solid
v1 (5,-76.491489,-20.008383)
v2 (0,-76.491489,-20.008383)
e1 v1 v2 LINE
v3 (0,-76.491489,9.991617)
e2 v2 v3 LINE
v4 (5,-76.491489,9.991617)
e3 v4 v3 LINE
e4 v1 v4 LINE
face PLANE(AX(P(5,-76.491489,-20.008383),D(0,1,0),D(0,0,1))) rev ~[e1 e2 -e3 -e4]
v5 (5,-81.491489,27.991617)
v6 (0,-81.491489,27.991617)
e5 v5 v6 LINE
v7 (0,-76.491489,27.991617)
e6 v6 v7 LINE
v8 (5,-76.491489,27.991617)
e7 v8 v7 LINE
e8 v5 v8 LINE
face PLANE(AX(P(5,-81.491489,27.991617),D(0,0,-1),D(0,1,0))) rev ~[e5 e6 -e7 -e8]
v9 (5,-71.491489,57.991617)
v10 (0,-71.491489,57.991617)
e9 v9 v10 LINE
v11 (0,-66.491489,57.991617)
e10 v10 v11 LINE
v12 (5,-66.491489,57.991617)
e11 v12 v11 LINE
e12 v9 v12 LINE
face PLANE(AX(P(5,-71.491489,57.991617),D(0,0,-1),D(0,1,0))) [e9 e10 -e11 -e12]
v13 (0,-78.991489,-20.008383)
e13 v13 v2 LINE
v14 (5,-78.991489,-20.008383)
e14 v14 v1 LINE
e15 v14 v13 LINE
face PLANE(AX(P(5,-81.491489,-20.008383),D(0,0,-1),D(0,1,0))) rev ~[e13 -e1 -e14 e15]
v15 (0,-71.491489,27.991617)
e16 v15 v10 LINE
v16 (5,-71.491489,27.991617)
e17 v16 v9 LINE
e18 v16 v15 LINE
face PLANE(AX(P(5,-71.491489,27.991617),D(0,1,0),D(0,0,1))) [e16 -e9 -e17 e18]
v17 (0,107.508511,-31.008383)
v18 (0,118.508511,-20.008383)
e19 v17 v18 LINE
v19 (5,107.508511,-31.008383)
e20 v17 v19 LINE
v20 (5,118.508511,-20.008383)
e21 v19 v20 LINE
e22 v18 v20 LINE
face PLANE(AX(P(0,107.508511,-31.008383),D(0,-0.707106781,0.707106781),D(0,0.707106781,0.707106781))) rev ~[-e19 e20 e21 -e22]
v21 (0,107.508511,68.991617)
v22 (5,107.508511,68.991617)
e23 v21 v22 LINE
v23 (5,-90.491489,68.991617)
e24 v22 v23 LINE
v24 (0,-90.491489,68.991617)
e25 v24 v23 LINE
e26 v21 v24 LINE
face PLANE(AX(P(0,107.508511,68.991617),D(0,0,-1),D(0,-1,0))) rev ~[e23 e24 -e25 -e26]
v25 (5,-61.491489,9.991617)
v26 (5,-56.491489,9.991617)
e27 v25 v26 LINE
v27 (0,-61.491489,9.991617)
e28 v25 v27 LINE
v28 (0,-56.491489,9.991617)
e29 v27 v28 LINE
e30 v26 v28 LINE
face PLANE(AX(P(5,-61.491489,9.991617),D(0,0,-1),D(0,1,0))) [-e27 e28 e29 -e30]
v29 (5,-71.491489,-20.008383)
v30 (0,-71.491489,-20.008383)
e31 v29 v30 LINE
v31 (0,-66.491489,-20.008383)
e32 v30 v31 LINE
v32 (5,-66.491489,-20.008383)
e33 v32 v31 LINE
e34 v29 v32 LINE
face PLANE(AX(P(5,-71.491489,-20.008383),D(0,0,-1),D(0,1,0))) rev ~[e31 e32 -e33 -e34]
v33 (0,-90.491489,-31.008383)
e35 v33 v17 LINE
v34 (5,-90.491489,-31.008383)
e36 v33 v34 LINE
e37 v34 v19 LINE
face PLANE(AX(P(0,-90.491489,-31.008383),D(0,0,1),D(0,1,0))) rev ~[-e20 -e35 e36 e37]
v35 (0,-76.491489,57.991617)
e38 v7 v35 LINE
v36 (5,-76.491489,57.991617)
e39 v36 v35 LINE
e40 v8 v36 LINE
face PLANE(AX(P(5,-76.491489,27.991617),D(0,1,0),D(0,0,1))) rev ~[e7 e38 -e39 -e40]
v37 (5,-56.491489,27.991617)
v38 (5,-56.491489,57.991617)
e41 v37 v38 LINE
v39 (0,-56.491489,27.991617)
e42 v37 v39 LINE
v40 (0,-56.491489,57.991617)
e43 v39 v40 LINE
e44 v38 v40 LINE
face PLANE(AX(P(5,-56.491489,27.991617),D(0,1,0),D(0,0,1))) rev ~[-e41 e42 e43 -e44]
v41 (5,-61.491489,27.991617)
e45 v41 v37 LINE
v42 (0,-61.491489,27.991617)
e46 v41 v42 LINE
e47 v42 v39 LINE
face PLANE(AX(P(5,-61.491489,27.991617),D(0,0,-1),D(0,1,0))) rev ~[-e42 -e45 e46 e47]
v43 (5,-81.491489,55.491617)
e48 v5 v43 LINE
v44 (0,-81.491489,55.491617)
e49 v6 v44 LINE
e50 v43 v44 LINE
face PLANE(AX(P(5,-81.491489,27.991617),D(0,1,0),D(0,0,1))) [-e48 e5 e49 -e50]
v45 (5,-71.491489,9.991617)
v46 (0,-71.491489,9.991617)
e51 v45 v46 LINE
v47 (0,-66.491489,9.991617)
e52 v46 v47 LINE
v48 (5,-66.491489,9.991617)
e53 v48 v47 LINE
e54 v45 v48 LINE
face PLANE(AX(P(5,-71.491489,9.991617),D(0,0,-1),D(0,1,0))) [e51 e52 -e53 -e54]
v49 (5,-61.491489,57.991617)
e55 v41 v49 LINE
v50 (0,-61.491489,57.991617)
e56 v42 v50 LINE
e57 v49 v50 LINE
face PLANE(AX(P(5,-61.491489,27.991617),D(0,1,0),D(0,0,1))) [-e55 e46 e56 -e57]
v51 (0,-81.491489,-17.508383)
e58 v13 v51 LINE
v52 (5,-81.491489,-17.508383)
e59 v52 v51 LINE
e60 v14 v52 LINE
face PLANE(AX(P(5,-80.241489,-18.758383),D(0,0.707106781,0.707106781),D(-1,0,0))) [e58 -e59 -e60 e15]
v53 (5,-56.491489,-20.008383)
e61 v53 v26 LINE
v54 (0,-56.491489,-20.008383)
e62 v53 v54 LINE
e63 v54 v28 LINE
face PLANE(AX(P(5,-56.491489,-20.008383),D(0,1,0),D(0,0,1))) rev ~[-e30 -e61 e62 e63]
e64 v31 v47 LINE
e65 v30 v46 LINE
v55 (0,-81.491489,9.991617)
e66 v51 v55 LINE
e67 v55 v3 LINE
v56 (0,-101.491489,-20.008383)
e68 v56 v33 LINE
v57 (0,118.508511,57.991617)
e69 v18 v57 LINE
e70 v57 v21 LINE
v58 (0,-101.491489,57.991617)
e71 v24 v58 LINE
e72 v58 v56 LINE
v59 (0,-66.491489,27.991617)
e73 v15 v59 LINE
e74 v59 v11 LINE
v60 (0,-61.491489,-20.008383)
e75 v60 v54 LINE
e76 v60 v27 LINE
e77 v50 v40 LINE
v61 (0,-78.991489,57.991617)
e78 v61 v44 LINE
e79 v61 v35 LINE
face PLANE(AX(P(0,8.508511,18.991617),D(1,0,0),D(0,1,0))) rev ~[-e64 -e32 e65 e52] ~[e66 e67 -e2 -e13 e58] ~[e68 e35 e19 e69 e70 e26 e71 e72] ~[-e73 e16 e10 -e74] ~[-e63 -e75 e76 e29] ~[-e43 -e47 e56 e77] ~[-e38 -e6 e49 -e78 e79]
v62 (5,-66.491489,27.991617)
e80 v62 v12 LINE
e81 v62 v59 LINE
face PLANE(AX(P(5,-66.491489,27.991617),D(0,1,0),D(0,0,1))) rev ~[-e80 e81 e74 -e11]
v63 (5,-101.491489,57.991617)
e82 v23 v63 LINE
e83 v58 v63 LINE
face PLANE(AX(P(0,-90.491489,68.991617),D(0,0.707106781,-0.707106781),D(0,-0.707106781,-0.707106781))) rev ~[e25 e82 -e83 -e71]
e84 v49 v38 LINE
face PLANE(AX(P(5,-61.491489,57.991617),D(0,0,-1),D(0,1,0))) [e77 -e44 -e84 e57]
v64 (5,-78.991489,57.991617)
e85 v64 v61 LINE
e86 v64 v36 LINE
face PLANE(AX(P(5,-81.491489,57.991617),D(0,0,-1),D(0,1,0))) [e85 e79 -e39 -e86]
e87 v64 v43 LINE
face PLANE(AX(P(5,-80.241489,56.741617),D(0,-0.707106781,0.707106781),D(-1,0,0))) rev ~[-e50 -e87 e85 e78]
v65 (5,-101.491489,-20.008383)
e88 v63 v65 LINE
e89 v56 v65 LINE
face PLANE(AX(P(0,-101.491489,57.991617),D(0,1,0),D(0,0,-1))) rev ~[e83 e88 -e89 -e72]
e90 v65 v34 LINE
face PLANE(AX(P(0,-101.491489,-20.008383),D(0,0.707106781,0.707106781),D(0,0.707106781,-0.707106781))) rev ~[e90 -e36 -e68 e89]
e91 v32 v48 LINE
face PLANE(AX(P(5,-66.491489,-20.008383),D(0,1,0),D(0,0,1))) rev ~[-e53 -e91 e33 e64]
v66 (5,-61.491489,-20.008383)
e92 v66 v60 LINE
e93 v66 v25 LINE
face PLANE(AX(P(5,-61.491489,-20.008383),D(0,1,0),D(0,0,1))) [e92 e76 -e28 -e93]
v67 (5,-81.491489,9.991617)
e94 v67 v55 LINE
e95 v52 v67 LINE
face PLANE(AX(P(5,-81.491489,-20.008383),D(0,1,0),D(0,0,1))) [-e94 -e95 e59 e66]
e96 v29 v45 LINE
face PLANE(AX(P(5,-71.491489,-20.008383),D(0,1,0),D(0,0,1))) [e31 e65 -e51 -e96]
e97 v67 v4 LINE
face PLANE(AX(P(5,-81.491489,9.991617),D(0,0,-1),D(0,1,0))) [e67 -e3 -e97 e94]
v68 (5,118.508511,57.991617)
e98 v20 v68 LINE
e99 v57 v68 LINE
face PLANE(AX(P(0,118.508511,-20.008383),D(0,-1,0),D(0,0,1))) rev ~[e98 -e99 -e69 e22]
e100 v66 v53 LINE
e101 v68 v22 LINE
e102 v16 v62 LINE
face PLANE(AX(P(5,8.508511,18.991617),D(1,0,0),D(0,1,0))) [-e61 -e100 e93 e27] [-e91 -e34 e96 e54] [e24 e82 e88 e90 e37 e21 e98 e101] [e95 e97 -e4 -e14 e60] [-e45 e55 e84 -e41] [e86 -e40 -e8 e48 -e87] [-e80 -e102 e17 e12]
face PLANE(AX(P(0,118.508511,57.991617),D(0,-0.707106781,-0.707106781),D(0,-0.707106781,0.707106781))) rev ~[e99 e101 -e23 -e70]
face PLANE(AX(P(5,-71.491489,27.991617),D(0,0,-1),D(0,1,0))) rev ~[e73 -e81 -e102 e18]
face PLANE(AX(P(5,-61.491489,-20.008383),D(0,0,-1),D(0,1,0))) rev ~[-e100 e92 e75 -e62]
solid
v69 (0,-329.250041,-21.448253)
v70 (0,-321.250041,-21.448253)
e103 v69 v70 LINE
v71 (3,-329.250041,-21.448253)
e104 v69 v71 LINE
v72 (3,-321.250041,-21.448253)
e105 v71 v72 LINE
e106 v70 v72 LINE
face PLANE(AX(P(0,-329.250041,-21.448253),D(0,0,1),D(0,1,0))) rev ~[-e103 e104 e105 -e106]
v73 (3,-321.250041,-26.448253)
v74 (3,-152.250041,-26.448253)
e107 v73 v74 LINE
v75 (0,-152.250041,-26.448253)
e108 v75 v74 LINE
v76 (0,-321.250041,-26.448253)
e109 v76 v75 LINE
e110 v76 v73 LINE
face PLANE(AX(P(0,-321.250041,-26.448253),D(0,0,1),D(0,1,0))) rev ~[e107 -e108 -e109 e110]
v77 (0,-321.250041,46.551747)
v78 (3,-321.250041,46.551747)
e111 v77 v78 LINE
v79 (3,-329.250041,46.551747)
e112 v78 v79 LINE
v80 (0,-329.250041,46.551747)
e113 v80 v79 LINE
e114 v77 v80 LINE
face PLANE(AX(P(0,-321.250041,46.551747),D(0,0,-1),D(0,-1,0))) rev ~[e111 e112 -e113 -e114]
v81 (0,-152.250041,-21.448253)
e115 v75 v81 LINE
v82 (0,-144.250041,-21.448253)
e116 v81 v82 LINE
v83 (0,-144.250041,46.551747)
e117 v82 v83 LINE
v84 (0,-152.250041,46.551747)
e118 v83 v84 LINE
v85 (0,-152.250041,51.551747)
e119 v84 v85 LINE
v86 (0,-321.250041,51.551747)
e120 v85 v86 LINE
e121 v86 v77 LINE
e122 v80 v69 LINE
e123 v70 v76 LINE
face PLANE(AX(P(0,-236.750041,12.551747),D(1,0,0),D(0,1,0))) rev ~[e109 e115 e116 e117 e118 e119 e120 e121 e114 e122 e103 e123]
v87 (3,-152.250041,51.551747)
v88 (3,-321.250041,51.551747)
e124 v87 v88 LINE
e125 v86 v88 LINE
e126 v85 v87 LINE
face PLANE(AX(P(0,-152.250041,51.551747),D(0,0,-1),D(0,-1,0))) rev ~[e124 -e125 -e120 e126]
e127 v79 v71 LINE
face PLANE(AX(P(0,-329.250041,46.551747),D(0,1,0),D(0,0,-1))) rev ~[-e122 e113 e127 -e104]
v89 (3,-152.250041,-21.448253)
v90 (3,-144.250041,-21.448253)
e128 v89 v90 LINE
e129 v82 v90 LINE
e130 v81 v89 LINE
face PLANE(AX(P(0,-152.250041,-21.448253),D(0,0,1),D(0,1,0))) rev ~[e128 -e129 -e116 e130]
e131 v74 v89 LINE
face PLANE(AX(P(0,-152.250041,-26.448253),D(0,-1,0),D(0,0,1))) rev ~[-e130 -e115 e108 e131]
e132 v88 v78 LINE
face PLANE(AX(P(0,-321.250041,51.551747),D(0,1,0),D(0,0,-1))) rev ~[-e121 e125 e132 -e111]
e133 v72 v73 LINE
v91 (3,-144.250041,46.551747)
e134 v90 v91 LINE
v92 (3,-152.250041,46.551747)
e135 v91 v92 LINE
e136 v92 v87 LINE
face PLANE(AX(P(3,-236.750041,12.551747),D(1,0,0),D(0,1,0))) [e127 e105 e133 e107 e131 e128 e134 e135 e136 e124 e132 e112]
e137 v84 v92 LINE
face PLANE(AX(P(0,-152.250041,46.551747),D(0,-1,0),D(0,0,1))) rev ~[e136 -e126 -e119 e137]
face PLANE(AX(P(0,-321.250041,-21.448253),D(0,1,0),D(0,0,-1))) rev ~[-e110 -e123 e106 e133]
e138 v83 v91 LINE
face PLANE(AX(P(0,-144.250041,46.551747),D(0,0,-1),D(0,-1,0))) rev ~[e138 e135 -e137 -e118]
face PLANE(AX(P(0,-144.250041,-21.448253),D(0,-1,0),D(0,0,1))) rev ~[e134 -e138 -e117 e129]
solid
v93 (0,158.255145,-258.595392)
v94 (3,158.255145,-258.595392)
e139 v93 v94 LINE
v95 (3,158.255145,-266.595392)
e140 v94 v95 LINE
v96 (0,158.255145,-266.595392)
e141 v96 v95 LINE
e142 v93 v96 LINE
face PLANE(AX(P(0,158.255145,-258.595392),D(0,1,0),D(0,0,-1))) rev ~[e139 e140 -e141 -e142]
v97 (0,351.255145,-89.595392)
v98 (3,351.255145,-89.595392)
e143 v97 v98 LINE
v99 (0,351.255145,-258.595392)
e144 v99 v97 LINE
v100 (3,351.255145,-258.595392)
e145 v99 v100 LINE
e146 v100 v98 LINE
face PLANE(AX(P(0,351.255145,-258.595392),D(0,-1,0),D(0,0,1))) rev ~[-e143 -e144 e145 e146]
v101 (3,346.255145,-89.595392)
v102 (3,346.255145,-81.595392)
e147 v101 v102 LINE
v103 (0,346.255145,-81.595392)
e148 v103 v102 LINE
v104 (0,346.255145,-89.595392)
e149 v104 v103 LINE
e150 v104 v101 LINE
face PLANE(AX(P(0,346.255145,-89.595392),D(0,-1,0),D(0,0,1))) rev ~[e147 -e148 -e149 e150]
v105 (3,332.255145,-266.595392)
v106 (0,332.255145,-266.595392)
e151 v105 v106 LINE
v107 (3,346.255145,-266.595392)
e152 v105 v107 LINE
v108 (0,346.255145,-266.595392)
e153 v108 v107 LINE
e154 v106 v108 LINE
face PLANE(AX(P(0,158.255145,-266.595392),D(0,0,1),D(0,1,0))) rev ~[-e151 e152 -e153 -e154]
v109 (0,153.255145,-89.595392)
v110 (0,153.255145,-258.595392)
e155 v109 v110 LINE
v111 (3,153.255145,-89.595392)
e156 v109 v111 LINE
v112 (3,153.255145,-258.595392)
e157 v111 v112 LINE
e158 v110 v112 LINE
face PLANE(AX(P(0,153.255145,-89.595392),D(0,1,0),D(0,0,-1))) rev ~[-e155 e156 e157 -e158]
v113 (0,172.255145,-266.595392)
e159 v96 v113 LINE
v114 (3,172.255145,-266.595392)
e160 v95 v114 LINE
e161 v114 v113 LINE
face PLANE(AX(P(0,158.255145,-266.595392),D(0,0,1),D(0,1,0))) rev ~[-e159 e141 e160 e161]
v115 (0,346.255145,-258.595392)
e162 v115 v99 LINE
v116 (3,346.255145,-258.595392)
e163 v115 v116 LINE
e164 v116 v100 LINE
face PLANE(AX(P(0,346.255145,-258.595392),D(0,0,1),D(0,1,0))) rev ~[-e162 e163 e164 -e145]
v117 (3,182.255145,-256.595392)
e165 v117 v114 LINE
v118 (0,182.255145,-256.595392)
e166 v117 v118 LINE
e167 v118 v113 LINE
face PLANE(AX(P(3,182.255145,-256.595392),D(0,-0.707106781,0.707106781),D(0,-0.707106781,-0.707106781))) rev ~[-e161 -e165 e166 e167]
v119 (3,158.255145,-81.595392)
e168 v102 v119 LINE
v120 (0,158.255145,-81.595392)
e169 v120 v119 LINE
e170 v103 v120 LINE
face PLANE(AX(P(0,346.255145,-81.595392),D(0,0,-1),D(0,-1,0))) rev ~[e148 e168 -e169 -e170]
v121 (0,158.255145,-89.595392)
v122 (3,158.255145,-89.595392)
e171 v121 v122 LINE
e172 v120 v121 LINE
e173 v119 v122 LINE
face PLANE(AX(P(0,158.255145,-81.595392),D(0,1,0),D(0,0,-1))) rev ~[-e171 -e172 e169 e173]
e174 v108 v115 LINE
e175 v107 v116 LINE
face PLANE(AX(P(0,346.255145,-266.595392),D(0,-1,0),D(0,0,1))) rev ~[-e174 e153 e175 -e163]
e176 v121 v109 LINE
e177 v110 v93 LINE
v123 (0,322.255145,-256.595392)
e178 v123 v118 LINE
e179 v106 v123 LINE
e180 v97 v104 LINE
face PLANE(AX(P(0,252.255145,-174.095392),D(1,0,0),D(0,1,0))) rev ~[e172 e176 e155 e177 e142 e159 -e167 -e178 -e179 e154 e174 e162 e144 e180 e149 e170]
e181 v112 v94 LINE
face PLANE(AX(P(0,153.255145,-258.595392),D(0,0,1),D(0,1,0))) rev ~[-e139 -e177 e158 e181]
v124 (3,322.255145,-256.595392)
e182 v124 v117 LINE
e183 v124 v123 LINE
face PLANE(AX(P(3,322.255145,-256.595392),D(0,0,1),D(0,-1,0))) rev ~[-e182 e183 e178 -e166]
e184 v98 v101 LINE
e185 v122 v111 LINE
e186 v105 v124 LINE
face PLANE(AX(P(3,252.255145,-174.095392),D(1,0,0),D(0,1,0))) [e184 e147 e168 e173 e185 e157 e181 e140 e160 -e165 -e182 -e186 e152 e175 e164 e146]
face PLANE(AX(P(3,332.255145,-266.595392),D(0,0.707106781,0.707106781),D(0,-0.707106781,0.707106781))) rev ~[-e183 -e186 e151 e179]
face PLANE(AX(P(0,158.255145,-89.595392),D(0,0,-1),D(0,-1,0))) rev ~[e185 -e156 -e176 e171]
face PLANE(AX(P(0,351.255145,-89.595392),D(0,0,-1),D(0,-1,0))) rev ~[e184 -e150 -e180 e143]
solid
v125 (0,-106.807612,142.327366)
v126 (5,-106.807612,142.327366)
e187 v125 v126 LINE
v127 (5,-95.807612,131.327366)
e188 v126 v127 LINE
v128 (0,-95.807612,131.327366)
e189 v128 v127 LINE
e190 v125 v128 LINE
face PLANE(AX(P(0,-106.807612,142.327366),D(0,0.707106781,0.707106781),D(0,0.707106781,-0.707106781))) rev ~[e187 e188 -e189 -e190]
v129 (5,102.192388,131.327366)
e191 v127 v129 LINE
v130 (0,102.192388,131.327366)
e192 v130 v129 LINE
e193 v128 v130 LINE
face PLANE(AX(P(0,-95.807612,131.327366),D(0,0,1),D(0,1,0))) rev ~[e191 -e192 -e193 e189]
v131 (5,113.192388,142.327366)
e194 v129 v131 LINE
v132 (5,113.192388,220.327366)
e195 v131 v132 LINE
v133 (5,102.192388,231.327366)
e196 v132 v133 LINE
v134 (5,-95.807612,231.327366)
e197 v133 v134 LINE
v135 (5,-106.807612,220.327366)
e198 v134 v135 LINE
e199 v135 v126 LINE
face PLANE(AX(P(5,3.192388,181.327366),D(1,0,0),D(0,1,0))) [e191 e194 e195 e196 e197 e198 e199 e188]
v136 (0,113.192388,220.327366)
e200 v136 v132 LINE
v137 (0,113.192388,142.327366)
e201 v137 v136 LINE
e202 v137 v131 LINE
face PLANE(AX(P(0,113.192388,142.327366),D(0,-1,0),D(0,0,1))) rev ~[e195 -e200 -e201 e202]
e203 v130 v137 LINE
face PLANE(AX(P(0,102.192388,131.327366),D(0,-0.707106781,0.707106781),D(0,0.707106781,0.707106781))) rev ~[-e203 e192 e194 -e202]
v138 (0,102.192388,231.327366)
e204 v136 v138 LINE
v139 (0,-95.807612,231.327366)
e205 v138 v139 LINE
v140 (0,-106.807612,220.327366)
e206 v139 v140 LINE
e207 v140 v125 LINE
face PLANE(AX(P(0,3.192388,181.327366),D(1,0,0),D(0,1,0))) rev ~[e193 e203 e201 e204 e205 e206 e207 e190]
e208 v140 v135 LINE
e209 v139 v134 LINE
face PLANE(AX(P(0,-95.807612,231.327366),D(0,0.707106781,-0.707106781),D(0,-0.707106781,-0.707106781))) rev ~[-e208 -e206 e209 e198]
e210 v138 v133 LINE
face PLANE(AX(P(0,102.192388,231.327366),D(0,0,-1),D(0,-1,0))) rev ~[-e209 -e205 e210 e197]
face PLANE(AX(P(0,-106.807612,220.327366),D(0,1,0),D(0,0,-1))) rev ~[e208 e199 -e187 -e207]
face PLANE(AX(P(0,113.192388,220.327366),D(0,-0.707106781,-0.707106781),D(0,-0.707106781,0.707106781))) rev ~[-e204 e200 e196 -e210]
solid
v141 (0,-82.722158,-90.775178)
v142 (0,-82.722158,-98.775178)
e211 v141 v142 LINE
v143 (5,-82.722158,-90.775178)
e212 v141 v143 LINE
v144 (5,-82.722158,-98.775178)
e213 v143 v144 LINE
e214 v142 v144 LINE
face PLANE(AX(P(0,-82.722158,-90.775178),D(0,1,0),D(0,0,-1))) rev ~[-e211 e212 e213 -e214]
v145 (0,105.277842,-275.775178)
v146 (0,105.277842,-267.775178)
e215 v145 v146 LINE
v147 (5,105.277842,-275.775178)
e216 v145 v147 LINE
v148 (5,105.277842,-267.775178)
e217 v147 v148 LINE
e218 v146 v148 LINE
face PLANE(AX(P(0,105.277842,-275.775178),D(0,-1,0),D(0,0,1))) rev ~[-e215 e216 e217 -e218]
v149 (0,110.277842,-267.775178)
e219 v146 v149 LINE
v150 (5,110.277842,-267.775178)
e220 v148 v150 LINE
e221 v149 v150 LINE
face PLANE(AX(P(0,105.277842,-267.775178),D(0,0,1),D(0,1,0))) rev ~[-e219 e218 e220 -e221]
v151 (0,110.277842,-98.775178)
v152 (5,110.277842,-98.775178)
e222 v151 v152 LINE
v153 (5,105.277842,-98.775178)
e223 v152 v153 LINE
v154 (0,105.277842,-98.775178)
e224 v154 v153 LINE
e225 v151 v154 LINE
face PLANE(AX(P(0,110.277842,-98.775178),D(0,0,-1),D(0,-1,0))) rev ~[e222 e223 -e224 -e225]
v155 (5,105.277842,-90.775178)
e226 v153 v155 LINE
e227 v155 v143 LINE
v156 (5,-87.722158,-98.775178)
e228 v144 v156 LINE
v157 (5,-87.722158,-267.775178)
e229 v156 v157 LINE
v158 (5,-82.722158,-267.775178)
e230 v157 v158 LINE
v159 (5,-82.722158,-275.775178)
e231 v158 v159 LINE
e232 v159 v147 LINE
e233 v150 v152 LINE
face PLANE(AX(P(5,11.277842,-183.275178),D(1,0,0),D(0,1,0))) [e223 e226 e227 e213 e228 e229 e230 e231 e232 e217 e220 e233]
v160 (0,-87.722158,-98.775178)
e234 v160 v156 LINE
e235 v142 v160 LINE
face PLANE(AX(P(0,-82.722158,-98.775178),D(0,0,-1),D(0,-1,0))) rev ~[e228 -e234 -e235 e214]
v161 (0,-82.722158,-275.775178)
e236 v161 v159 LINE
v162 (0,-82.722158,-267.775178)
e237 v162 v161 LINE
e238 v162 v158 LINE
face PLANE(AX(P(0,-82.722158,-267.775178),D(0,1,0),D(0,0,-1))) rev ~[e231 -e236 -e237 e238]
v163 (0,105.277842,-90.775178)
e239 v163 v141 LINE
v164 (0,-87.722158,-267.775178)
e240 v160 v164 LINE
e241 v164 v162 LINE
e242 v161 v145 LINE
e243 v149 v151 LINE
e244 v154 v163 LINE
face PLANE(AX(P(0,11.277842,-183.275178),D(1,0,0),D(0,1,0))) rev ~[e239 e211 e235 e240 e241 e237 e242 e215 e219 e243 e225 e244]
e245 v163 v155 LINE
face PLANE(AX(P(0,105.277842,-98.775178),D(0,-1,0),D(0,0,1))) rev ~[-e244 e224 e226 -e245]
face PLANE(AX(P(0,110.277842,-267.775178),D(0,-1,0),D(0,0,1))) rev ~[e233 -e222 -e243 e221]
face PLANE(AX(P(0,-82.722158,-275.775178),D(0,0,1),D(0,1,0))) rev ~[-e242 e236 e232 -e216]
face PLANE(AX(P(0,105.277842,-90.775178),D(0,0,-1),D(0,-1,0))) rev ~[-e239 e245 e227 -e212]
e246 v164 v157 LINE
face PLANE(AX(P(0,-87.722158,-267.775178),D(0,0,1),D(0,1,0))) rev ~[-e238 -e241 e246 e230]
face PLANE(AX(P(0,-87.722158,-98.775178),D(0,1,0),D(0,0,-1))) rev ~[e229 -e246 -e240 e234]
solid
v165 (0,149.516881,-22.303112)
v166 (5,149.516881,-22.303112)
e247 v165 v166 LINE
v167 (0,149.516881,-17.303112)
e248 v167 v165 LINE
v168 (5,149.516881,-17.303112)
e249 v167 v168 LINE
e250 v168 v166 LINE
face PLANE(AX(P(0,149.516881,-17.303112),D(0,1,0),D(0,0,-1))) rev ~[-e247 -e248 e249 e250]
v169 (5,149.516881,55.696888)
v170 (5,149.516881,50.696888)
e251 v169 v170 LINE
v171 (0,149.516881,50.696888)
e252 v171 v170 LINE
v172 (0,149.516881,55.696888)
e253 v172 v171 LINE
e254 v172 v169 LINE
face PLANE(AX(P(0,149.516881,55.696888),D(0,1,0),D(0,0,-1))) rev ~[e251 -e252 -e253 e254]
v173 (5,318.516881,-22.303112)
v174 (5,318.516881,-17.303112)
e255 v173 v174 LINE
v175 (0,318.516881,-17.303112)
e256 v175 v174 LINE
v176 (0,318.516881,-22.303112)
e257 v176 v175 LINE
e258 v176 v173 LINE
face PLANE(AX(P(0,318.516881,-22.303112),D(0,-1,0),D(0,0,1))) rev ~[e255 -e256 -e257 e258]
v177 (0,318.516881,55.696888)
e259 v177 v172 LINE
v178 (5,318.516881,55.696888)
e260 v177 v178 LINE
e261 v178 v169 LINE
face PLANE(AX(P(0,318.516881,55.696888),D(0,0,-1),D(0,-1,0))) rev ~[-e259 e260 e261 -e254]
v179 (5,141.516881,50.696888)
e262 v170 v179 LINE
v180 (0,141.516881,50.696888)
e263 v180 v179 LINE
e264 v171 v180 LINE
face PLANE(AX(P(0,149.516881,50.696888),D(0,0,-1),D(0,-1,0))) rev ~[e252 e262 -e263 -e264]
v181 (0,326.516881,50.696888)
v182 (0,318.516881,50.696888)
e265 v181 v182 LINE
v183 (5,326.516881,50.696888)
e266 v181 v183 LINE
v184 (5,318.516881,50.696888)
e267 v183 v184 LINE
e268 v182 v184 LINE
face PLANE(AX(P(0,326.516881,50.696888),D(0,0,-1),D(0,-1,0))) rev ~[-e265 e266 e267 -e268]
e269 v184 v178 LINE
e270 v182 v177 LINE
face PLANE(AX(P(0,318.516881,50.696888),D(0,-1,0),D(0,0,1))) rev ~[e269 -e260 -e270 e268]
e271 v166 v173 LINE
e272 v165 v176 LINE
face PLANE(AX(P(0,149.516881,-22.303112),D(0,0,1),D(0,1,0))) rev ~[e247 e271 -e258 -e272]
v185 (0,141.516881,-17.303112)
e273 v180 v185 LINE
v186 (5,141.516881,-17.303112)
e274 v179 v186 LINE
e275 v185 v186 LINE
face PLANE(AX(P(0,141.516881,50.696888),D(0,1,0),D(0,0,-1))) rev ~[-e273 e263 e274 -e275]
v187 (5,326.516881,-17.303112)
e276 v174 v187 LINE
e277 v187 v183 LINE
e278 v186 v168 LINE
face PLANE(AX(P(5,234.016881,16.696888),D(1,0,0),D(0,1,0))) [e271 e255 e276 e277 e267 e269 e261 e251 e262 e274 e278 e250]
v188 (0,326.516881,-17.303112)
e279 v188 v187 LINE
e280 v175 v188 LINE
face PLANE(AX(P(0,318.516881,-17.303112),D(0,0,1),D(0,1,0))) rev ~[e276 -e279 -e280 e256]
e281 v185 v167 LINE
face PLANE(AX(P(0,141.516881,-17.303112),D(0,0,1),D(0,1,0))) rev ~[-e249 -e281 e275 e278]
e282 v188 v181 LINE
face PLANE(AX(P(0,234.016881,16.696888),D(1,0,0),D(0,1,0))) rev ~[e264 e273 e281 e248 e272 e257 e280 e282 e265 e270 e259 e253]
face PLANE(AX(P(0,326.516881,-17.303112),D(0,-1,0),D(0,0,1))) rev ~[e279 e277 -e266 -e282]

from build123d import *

# Parameters (mm, degrees)
F1_DEPTH  = 5
F3_DEPTH  = 3
F5_DEPTH  = 5
F7_DEPTH  = 5
F9_DEPTH  = 5
F11_DEPTH = 3
F13_DEPTH = 25
F14_W     = 5
F14_H     = 30
F15_DEPTH = 25
F16_SIZE  = 2.5


with BuildPart() as f1:
    # F0 (on Right) → F1 (new body)
    with BuildSketch(Plane.YZ):
        Polygon((118.508511, 57.991617), (107.508511, 68.991617), (-90.491489, 68.991617), (-101.491489, 57.991617), (-101.491489, -20.008383), (-90.491489, -31.008383), (107.508511, -31.008383), (118.508511, -20.008383), align=None)
    extrude(amount=F1_DEPTH)

    # F14 (on face) → F15 (cut)
    with BuildSketch(Plane.YZ.offset(5)):
        with Locations((-78.991489, 42.991617)):
            Rectangle(F14_W, F14_H)
        with Locations((-78.991489, -5.008383)):
            Rectangle(F14_W, F14_H)
        with Locations((-68.991489, 42.991617)):
            Rectangle(F14_W, F14_H)
        with Locations((-68.991489, -5.008383)):
            Rectangle(F14_W, F14_H)
        with Locations((-58.991489, 42.991617)):
            Rectangle(F14_W, F14_H)
        with Locations((-58.991489, -5.008383)):
            Rectangle(F14_W, F14_H)
    extrude(amount=-F15_DEPTH, mode=Mode.SUBTRACT)

    # F16
    f16_edges = [f1.edges().sort_by_distance(p)[0] for p in [
        (2.5, -81.491489, -20.008383),
        (2.5, -81.491489, 57.991617),
    ]]
    chamfer(f16_edges, length=F16_SIZE)


with BuildPart() as f3:
    # F2 (on Right) → F3 (new body)
    with BuildSketch(Plane.YZ):
        Polygon((-152.250041, 51.551747), (-321.250041, 51.551747), (-321.250041, 46.551747), (-329.250041, 46.551747), (-329.250041, -21.448253), (-321.250041, -21.448253), (-321.250041, -26.448253), (-152.250041, -26.448253), (-152.250041, -21.448253), (-144.250041, -21.448253), (-144.250041, 46.551747), (-152.250041, 46.551747), align=None)
    extrude(amount=F3_DEPTH)


with BuildPart() as f5:
    # F4 (on Right) → F5 (new body)
    with BuildSketch(Plane.YZ):
        Polygon((113.192388, 220.327366), (102.192388, 231.327366), (-95.807612, 231.327366), (-106.807612, 220.327366), (-106.807612, 142.327366), (-95.807612, 131.327366), (102.192388, 131.327366), (113.192388, 142.327366), align=None)
    extrude(amount=F5_DEPTH)


with BuildPart() as f7:
    # F6 (on Right) → F7 (new body)
    with BuildSketch(Plane.YZ):
        Polygon((318.516881, 55.696888), (149.516881, 55.696888), (149.516881, 50.696888), (141.516881, 50.696888), (141.516881, -17.303112), (149.516881, -17.303112), (149.516881, -22.303112), (318.516881, -22.303112), (318.516881, -17.303112), (326.516881, -17.303112), (326.516881, 50.696888), (318.516881, 50.696888), align=None)
    extrude(amount=F7_DEPTH)


with BuildPart() as f9:
    # F8 (on Right) → F9 (new body)
    with BuildSketch(Plane.YZ):
        Polygon((110.277842, -267.775178), (110.277842, -98.775178), (105.277842, -98.775178), (105.277842, -90.775178), (-82.722158, -90.775178), (-82.722158, -98.775178), (-87.722158, -98.775178), (-87.722158, -267.775178), (-82.722158, -267.775178), (-82.722158, -275.775178), (105.277842, -275.775178), (105.277842, -267.775178), align=None)
    extrude(amount=F9_DEPTH)


with BuildPart() as f11:
    # F10 (on Right) → F11 (new body)
    with BuildSketch(Plane.YZ):
        Polygon((351.255145, -258.595392), (351.255145, -89.595392), (346.255145, -89.595392), (346.255145, -81.595392), (158.255145, -81.595392), (158.255145, -89.595392), (153.255145, -89.595392), (153.255145, -258.595392), (158.255145, -258.595392), (158.255145, -266.595392), (346.255145, -266.595392), (346.255145, -258.595392), align=None)
    extrude(amount=F11_DEPTH)

    # F12 (on face) → F13 (cut)
    with BuildSketch(Plane.YZ.offset(3)):
        Polygon((182.255145, -256.595392), (172.255145, -266.595392), (332.255145, -266.595392), (322.255145, -256.595392), align=None)
    extrude(amount=-F13_DEPTH, mode=Mode.SUBTRACT)


solid = Compound([f1.part, f3.part, f5.part, f7.part, f9.part, f11.part])
